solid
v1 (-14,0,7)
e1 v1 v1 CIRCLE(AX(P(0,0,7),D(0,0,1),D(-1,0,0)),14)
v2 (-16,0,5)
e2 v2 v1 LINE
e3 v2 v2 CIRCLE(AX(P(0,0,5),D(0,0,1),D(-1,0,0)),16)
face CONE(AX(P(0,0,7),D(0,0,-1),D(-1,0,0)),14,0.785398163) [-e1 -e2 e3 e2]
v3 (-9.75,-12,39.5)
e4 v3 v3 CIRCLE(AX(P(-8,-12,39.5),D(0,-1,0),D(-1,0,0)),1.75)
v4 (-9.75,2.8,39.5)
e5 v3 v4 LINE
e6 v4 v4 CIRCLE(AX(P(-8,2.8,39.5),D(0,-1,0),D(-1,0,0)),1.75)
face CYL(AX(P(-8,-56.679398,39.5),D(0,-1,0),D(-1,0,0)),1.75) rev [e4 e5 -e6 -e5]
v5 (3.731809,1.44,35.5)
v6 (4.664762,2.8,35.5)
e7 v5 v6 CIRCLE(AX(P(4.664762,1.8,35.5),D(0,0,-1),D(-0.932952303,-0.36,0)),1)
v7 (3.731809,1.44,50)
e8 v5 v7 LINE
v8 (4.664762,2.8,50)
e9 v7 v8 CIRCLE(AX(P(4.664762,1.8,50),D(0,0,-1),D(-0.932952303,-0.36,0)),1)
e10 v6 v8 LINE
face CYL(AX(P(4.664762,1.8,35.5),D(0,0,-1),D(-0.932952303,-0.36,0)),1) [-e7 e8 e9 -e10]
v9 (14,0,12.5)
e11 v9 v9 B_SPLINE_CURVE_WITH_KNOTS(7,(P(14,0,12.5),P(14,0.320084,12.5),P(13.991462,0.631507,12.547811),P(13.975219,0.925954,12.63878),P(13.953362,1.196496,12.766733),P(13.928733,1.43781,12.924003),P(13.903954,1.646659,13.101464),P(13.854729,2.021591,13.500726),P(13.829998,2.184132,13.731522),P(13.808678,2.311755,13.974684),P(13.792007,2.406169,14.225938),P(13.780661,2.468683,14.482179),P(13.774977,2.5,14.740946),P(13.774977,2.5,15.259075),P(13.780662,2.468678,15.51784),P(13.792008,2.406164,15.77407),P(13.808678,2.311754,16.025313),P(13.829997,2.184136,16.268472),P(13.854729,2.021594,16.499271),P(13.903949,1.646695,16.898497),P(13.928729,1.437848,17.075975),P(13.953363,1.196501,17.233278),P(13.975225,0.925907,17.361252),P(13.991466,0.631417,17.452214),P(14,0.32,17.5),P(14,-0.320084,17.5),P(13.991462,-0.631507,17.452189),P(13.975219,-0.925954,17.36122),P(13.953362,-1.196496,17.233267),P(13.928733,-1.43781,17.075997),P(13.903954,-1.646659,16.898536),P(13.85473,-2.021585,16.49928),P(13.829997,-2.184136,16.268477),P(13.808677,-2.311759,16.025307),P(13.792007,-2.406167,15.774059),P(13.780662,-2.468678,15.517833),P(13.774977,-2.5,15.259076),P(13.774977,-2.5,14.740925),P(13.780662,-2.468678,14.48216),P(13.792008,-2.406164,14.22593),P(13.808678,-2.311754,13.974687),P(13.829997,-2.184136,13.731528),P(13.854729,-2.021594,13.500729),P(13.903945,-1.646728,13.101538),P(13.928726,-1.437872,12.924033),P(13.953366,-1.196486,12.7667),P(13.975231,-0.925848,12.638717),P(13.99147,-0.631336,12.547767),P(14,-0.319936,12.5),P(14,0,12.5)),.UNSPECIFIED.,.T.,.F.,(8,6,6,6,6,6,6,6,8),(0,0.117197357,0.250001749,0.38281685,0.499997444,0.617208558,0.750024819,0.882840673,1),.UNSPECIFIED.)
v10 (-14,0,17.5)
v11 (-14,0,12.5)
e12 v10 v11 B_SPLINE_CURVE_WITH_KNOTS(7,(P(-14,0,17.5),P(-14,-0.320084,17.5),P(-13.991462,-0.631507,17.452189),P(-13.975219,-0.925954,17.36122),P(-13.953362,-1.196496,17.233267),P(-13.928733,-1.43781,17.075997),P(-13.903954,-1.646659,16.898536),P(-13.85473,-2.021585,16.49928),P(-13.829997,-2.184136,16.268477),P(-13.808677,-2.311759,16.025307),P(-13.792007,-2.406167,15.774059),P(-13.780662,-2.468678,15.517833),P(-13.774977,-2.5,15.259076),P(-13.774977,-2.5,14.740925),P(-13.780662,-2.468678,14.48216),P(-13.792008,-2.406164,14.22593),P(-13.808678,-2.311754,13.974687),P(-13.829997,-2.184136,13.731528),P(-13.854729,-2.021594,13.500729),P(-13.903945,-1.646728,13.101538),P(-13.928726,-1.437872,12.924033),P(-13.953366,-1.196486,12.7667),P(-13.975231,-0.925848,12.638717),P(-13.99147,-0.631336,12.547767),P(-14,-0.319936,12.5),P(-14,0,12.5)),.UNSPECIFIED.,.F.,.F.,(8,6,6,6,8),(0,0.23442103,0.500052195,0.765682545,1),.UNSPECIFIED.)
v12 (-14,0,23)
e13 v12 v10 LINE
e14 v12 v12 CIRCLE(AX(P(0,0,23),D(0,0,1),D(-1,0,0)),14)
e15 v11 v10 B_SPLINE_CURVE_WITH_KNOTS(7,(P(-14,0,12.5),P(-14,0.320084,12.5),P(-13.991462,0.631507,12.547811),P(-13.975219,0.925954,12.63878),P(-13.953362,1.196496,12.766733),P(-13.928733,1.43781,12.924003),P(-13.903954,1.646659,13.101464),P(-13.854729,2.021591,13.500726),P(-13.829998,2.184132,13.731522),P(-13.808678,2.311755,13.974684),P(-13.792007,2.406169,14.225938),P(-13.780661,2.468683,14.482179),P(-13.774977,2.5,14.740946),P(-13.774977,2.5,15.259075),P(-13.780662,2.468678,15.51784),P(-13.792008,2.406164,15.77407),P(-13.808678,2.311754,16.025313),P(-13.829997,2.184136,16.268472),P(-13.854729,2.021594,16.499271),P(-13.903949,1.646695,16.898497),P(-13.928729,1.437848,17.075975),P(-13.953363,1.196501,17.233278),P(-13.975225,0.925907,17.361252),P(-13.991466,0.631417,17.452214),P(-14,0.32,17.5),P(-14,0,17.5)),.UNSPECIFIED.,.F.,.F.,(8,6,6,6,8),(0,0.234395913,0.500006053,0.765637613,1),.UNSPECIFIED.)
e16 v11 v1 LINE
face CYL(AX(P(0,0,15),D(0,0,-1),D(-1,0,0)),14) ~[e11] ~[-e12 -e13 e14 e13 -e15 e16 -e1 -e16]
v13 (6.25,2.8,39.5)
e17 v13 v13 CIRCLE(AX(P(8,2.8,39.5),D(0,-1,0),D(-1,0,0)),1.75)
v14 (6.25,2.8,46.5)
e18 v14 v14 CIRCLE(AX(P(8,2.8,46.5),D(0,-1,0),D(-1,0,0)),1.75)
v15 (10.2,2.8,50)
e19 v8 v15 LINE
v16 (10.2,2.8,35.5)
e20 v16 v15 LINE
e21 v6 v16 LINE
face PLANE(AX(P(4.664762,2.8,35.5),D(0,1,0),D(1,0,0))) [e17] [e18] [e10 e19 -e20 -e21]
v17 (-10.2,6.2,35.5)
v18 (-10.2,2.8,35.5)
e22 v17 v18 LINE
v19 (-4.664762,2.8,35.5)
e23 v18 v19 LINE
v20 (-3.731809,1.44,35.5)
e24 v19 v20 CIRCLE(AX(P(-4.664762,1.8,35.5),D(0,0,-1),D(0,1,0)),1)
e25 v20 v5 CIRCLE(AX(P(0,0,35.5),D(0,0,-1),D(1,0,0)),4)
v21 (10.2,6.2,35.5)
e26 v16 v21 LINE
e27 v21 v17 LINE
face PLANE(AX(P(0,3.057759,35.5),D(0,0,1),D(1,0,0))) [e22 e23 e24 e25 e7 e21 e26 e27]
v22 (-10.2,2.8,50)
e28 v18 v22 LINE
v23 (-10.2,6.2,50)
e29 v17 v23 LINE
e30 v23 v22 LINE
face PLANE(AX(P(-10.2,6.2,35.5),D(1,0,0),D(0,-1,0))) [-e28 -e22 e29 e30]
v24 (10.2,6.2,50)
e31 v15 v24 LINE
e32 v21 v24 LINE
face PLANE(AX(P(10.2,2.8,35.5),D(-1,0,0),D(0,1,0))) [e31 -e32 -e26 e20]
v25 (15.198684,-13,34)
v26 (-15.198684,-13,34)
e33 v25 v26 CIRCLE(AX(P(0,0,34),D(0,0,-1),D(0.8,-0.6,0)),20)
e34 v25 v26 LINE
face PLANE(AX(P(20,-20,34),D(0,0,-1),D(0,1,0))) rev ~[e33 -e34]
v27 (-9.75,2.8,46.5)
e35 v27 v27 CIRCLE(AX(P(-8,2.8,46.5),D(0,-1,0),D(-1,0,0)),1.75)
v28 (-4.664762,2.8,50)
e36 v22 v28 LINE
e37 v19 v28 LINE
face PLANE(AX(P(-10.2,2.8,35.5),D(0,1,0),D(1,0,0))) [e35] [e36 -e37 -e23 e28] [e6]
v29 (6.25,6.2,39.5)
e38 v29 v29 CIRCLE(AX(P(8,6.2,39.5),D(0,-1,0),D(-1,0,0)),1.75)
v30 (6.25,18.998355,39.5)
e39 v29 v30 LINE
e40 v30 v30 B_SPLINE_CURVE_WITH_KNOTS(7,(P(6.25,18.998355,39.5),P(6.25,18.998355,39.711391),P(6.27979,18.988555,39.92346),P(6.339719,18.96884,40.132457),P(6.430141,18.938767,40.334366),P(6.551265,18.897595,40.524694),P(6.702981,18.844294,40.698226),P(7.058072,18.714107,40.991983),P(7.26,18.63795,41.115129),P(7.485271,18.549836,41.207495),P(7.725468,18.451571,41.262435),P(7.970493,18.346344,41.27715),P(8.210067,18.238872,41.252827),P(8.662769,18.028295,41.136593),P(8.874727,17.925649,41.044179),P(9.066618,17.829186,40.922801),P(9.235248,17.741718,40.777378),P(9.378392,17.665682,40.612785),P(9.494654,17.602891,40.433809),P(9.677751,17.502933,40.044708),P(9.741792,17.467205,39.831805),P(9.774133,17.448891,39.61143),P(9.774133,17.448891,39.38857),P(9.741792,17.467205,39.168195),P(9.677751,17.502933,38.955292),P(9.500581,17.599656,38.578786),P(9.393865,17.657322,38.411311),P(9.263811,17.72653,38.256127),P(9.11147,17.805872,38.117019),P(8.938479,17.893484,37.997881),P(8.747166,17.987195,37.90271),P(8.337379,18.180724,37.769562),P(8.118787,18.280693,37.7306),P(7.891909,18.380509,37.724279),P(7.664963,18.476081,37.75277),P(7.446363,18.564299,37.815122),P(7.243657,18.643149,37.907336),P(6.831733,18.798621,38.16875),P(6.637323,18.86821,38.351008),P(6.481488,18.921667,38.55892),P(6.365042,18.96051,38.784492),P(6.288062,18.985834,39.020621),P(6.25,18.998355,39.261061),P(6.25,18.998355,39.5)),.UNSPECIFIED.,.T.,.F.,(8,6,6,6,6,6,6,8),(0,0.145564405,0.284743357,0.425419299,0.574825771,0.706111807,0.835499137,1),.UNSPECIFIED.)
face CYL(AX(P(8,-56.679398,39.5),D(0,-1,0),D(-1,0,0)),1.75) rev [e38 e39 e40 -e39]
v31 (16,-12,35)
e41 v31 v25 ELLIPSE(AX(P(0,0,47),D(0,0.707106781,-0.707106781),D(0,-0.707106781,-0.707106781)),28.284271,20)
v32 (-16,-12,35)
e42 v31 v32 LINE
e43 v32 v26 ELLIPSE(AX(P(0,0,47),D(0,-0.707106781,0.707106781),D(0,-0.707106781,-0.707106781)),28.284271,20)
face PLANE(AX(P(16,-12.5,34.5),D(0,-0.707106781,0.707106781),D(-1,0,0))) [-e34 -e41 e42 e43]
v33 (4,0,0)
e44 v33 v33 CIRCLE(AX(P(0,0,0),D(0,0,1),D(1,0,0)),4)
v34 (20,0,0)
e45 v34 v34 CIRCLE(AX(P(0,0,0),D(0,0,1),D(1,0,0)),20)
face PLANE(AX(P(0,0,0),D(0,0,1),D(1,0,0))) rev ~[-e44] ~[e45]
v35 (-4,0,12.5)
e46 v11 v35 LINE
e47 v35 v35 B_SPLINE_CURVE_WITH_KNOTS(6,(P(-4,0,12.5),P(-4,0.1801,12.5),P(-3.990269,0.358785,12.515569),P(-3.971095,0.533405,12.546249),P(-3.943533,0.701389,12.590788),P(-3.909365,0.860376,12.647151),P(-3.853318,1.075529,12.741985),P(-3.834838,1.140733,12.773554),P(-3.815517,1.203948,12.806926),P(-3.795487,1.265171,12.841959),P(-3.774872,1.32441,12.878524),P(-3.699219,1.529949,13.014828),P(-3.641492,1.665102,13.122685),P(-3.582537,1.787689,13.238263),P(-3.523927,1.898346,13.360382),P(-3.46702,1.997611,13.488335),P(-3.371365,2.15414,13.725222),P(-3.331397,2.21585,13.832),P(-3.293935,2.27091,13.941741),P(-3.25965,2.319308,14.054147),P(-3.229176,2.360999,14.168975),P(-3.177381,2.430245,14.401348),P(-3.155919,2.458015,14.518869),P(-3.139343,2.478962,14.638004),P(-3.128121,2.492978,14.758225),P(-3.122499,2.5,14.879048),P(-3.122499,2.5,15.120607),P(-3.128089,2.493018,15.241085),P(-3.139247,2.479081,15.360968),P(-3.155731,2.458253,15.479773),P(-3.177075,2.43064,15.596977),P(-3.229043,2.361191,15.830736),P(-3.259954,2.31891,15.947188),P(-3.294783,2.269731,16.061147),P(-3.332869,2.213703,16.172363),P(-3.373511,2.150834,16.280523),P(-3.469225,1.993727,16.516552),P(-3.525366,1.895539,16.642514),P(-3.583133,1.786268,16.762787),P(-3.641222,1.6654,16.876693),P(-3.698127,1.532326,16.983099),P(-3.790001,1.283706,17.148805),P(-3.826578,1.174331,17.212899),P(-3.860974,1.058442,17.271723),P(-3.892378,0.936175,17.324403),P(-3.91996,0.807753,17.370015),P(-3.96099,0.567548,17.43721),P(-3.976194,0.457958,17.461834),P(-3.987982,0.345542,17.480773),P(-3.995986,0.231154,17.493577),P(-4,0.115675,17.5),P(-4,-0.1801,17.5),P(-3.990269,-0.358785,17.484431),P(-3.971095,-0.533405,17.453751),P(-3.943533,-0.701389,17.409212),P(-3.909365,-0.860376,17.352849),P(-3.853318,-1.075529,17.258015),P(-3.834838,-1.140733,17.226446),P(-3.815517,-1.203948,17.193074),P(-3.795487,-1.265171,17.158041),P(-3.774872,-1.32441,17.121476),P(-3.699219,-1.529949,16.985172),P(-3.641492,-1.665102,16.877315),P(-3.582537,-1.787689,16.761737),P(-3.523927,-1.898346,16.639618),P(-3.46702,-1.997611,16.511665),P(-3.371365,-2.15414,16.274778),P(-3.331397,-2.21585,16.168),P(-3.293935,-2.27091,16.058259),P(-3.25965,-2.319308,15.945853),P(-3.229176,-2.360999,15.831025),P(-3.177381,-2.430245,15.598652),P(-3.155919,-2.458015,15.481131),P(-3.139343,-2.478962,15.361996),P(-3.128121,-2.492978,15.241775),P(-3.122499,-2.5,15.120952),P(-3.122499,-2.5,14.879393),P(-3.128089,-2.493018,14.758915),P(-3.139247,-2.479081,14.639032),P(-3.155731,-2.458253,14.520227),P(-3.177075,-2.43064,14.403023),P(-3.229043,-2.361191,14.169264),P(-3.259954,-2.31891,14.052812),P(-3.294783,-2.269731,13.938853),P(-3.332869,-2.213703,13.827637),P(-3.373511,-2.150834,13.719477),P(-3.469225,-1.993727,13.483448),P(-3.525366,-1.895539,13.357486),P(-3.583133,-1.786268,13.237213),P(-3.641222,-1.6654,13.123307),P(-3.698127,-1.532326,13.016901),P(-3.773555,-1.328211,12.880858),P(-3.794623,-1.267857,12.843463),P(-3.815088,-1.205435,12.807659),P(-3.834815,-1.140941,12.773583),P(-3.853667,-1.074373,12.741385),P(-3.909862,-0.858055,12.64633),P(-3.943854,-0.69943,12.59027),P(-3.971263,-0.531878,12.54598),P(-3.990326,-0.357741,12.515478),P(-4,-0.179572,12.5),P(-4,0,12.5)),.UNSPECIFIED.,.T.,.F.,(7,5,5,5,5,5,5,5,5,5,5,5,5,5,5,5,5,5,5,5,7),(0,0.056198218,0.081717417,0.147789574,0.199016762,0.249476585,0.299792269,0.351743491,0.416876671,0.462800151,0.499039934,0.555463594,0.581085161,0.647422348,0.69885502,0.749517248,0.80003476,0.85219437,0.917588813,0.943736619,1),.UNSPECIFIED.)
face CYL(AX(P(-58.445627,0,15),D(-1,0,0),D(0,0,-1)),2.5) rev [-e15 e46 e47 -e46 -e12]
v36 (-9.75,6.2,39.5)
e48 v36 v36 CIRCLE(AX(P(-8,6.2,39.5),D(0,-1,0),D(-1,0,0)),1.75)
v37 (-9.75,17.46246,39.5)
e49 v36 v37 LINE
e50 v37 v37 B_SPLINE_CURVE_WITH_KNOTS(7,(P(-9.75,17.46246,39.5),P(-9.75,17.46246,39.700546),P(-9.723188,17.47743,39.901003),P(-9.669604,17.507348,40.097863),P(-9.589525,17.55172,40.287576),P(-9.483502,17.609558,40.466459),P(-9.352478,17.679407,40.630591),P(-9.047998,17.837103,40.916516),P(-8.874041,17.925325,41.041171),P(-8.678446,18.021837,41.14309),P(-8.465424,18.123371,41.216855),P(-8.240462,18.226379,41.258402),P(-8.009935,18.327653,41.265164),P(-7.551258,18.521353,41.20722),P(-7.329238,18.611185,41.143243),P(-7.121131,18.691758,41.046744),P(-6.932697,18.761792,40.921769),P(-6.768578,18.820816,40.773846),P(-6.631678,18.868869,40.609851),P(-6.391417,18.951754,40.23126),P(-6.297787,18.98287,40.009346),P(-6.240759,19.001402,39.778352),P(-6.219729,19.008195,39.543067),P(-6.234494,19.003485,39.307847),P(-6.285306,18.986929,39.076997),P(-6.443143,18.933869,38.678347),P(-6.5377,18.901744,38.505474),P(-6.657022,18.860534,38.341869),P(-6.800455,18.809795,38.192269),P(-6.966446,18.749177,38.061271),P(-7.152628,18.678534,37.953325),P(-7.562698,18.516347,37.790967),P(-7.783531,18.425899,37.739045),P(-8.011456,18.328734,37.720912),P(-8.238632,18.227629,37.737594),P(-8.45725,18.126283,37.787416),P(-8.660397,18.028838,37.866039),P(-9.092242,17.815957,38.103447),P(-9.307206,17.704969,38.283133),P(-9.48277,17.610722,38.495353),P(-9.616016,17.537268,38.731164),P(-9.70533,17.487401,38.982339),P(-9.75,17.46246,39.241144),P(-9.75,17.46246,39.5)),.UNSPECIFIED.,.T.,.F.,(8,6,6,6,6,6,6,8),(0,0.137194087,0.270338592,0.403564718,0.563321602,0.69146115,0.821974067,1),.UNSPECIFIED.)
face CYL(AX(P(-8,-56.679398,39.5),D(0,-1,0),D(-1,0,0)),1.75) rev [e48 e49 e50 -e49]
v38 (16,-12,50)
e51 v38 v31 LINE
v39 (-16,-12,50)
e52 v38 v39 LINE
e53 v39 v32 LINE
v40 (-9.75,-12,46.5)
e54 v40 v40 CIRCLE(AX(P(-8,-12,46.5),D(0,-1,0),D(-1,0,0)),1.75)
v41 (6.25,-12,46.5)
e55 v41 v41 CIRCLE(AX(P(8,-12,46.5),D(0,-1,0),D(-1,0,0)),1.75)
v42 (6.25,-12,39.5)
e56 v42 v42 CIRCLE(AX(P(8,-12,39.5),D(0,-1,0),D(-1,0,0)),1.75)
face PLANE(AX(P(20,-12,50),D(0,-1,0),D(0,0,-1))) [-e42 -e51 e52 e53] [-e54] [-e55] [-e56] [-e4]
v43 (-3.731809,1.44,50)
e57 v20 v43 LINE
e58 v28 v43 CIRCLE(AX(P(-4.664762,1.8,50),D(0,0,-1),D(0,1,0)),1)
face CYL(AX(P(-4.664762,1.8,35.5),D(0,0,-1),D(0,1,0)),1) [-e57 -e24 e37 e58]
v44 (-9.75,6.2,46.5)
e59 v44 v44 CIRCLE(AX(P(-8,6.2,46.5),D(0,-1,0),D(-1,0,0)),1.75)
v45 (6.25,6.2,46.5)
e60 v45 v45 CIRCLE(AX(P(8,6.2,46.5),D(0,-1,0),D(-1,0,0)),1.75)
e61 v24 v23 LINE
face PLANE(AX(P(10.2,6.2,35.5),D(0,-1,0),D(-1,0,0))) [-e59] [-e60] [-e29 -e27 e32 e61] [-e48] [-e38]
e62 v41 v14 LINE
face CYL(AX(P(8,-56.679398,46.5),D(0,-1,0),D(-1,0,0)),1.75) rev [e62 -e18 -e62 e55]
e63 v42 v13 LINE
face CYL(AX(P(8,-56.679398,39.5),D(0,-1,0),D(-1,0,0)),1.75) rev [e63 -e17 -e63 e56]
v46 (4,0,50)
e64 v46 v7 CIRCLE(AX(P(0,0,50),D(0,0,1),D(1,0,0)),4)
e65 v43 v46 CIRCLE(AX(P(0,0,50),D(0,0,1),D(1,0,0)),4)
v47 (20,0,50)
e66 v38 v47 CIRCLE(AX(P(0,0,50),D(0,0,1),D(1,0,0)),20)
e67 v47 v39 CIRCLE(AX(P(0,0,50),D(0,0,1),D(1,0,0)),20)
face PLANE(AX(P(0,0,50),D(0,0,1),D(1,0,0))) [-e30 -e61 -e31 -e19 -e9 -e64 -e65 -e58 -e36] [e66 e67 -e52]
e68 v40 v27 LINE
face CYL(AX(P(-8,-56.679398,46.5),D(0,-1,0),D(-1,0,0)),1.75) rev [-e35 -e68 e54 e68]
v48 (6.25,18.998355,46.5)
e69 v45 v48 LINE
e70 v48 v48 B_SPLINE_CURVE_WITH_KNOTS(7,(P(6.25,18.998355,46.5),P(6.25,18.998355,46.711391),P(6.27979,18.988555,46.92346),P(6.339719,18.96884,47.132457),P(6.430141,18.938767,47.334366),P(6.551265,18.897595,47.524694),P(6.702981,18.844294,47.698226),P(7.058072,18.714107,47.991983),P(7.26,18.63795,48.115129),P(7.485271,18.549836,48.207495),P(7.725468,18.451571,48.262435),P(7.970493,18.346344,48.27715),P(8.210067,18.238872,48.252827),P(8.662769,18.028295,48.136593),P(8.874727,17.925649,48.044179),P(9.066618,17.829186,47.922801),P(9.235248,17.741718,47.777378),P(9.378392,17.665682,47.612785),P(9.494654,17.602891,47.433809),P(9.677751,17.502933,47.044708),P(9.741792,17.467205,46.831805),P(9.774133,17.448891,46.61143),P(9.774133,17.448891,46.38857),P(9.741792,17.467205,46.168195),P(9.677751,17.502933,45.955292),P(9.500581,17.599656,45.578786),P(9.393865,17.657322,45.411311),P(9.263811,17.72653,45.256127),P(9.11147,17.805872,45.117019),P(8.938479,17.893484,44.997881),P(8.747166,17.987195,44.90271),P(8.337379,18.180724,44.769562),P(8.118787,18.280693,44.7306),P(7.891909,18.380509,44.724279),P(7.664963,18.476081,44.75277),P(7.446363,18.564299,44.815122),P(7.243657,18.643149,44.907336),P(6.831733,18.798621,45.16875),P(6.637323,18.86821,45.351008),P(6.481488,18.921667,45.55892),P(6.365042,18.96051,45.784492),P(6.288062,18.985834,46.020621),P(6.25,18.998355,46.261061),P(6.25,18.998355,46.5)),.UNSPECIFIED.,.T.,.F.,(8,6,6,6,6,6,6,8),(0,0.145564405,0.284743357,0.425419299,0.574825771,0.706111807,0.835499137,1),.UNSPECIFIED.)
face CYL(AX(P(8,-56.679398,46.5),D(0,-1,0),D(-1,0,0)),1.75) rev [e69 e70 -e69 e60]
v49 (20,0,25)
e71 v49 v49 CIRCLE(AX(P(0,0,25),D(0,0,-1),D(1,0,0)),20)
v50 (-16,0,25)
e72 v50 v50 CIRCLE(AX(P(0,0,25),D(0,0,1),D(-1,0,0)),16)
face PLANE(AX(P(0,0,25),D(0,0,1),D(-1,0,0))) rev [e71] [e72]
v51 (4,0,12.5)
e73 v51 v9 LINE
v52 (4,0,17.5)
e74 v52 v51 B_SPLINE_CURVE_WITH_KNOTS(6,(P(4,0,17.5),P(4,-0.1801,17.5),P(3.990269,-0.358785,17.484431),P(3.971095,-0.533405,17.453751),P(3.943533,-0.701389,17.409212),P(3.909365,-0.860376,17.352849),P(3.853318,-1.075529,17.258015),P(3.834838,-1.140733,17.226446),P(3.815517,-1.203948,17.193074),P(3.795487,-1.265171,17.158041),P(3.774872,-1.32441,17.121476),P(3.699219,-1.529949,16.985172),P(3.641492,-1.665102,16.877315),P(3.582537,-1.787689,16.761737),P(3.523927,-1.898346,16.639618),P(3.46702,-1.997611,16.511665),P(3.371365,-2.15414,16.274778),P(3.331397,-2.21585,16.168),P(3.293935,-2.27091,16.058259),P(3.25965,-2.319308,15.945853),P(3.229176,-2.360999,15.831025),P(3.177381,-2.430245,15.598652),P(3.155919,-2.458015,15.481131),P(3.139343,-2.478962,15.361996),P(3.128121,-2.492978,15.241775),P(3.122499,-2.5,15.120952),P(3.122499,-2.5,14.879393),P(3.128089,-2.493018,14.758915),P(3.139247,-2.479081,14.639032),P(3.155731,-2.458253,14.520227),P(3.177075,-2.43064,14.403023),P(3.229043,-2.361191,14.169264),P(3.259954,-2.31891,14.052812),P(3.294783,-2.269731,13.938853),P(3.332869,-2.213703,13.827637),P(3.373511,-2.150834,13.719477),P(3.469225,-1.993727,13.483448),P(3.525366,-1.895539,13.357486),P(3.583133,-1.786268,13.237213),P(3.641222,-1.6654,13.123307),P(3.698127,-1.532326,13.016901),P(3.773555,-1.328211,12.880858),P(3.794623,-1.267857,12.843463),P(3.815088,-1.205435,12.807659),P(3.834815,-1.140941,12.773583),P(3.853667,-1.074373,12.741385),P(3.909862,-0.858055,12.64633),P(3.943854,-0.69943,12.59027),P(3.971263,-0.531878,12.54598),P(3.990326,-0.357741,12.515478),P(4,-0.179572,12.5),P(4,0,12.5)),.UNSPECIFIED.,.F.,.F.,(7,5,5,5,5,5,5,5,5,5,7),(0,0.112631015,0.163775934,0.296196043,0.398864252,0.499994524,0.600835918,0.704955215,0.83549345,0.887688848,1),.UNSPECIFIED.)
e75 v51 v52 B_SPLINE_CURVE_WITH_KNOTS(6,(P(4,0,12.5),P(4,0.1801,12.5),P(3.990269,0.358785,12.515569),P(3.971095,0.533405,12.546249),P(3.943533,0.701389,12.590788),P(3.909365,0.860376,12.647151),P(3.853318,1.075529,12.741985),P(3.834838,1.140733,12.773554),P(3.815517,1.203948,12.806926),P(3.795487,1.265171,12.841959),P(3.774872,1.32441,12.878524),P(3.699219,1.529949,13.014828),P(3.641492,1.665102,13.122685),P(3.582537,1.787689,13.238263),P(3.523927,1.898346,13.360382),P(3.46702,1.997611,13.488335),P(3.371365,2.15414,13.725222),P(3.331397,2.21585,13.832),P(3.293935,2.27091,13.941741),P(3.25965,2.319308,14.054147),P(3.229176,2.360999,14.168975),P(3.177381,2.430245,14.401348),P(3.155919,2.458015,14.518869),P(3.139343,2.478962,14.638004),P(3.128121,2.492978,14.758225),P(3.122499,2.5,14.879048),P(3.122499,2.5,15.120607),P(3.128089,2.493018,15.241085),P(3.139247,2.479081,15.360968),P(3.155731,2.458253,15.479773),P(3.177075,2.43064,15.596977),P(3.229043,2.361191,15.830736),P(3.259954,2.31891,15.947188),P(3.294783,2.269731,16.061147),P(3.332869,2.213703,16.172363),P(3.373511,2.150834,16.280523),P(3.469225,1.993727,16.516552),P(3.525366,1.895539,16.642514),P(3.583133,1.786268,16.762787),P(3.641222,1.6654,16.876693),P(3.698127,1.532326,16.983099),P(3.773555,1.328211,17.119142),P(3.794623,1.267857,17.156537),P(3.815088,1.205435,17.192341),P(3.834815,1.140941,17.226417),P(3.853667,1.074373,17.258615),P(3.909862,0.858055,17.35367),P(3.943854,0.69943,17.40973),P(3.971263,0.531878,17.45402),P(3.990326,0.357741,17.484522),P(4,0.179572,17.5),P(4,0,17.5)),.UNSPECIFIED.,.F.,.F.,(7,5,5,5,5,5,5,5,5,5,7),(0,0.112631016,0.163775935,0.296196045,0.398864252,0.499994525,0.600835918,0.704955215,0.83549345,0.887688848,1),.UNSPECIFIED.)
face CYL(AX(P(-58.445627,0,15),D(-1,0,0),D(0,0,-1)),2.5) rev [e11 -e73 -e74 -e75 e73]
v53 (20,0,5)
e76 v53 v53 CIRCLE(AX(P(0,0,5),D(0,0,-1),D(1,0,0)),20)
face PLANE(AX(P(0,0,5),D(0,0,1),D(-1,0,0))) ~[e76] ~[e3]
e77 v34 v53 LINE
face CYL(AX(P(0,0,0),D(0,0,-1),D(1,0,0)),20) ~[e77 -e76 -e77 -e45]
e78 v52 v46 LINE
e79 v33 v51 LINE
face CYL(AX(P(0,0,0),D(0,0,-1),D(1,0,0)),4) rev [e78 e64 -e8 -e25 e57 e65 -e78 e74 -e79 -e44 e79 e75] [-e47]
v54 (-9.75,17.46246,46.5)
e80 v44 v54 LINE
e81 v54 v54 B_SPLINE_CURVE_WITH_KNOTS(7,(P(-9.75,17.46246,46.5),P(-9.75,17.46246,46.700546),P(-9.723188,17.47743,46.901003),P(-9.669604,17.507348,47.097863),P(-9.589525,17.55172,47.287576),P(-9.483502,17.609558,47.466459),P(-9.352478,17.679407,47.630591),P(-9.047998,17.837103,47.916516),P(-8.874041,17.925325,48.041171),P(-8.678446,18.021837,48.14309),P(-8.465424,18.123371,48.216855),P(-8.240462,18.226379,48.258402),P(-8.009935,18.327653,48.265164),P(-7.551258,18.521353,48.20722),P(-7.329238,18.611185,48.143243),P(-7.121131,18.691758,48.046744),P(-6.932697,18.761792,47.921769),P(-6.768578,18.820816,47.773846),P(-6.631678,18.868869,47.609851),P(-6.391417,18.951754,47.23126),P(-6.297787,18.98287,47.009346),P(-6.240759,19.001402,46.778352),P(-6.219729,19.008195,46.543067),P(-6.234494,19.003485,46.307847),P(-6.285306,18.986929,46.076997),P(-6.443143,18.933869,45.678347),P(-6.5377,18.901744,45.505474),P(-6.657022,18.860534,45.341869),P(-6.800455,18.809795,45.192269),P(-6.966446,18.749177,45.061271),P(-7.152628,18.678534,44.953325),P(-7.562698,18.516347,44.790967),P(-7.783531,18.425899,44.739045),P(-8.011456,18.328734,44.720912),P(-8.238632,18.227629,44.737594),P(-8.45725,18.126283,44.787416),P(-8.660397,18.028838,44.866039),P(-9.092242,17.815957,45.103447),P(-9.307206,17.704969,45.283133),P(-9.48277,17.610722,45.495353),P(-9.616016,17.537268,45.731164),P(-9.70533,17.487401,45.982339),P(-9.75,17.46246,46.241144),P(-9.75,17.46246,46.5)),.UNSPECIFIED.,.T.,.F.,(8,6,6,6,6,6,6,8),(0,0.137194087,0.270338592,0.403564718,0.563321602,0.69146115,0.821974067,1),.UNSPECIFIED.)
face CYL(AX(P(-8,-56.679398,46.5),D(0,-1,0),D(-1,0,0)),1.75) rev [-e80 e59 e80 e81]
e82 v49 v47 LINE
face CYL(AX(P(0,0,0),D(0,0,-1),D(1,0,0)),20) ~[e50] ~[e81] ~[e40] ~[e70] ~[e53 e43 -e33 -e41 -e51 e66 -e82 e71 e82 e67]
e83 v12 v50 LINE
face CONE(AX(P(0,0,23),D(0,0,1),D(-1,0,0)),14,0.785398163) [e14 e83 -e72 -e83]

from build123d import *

# Parameters (mm, degrees)
SZKIC1_R                        = 20
SZKIC1_R_2                      = 4
DODANIE_WYCI_GNI_CIE1_DEPTH     = 50
WYTNIJ_WYCI_GNI_CIE1_START      = -14.5
WYTNIJ_WYCI_GNI_CIE1_DEPTH      = 14.5
WYTNIJ_WYCI_GNI_CIE2_DEPTH      = 59.479398082
WYTNIJ_WYCI_GNI_CIE2_DEPTH_BACK = 59.479398082
SZKIC3_R                        = 1.75
SZKIC4_W                        = 16
SZKIC4_H                        = 8
WYTNIJ_WYCI_GNI_CIE3_DEPTH      = 68.082039489
SZKIC6_W                        = 20
SZKIC6_H                        = 6
SFAZOWANIE1_SIZE                = 2
WYTNIJ_WYCI_GNI_CIE4_DEPTH      = 58.445626622
WYTNIJ_WYCI_GNI_CIE4_DEPTH_BACK = 58.445626622
SZKIC7_R                        = 2.5
SFAZOWANIE2_SIZE                = 1


with BuildPart() as part:
    # Szkic1 → Dodanie-wyciągnięcie1 (new body)
    with BuildSketch(Plane.XY):
        Circle(SZKIC1_R)
        Circle(SZKIC1_R_2, mode=Mode.SUBTRACT)
    extrude(amount=DODANIE_WYCI_GNI_CIE1_DEPTH)

    # Szkic2 → Wytnij-wyciągnięcie1 (cut)
    with BuildSketch(Plane.XY.offset(50).offset(WYTNIJ_WYCI_GNI_CIE1_START)):
        with BuildLine():
            Line((4.664761516, 2.8), (10.2, 2.8))
            Line((10.2, 2.8), (10.2, 6.2))
            Line((10.2, 6.2), (-10.2, 6.2))
            Line((-10.2, 6.2), (-10.2, 2.8))
            Line((-10.2, 2.8), (-4.664761516, 2.8))
            ThreePointArc((-4.664761516, 2.8), (-3.840140391, 2.365685425), (-3.731809213, 1.44))
            ThreePointArc((-3.731809213, 1.44), (0, -4), (3.731809213, 1.44))
            ThreePointArc((3.731809213, 1.44), (3.840140391, 2.365685425), (4.664761516, 2.8))
        make_face()
    extrude(amount=WYTNIJ_WYCI_GNI_CIE1_DEPTH, mode=Mode.SUBTRACT)

    # Szkic3 → Wytnij-wyciągnięcie2 (cut, two sides: drawn at the far end of the back side and taken through both)
    with BuildSketch(Plane(origin=(0, 2.8, 0), x_dir=(1, 0, 0), z_dir=(0, 1, 0)).offset(-WYTNIJ_WYCI_GNI_CIE2_DEPTH_BACK)):
        with Locations(Location((-8, -46.5, 0), (0, 0, 180))):
            Circle(SZKIC3_R)
        with Locations(Location((-8, -39.5, 0), (0, 0, 180))):
            Circle(SZKIC3_R)
        with Locations(Location((8, -46.5, 0), (0, 0, 180))):
            Circle(SZKIC3_R)
        with Locations(Location((8, -39.5, 0), (0, 0, 180))):
            Circle(SZKIC3_R)
    extrude(amount=WYTNIJ_WYCI_GNI_CIE2_DEPTH + WYTNIJ_WYCI_GNI_CIE2_DEPTH_BACK, mode=Mode.SUBTRACT)

    # Szkic4 → Wytnij-wyciągnięcie3 (cut, through all)
    with BuildSketch(Plane(origin=(20, 0, 0), x_dir=(0, 0, -1), z_dir=(1, 0, 0))):
        with Locations((-42, -16)):
            Rectangle(SZKIC4_W, SZKIC4_H)
    extrude(amount=-WYTNIJ_WYCI_GNI_CIE3_DEPTH, mode=Mode.SUBTRACT)

    # Szkic6 → Wycięcie-obrót1 (revolve, cut)
    with BuildSketch(Plane(origin=(0, 0, 0), x_dir=(0, 0, -1), z_dir=(1, 0, 0)), mode=Mode.PRIVATE) as wyci_cie_obr_t1_sk:
        with Locations((-15, 17)):
            Rectangle(SZKIC6_W, SZKIC6_H)
    revolve(wyci_cie_obr_t1_sk.sketch.rotate(Axis((0, 0, 0), (0, 0, 1)), 90), axis=Axis((0, 0, 0), (0, 0, 1)), mode=Mode.SUBTRACT)

    # Sfazowanie1
    sfazowanie1_edges = [part.edges().sort_by_distance(p)[0] for p in [
        (14, 0, 25),
        (14, 0, 5),
    ]]
    chamfer(sfazowanie1_edges, length=SFAZOWANIE1_SIZE)

    # Szkic7 → Wytnij-wyciągnięcie4 (cut, two sides: drawn at the far end of the back side and taken through both)
    with BuildSketch(Plane(origin=(0, 0, 0), x_dir=(0, 0, -1), z_dir=(1, 0, 0)).offset(-WYTNIJ_WYCI_GNI_CIE4_DEPTH_BACK)):
        with Locations((-15, 0)):
            Circle(SZKIC7_R)
    extrude(amount=WYTNIJ_WYCI_GNI_CIE4_DEPTH + WYTNIJ_WYCI_GNI_CIE4_DEPTH_BACK, mode=Mode.SUBTRACT)

    # Sfazowanie2
    sfazowanie2_edges = [part.edges().sort_by_distance(p)[0] for p in [
        (0, -12, 34),
    ]]
    chamfer(sfazowanie2_edges, length=SFAZOWANIE2_SIZE)


solid = part.part
